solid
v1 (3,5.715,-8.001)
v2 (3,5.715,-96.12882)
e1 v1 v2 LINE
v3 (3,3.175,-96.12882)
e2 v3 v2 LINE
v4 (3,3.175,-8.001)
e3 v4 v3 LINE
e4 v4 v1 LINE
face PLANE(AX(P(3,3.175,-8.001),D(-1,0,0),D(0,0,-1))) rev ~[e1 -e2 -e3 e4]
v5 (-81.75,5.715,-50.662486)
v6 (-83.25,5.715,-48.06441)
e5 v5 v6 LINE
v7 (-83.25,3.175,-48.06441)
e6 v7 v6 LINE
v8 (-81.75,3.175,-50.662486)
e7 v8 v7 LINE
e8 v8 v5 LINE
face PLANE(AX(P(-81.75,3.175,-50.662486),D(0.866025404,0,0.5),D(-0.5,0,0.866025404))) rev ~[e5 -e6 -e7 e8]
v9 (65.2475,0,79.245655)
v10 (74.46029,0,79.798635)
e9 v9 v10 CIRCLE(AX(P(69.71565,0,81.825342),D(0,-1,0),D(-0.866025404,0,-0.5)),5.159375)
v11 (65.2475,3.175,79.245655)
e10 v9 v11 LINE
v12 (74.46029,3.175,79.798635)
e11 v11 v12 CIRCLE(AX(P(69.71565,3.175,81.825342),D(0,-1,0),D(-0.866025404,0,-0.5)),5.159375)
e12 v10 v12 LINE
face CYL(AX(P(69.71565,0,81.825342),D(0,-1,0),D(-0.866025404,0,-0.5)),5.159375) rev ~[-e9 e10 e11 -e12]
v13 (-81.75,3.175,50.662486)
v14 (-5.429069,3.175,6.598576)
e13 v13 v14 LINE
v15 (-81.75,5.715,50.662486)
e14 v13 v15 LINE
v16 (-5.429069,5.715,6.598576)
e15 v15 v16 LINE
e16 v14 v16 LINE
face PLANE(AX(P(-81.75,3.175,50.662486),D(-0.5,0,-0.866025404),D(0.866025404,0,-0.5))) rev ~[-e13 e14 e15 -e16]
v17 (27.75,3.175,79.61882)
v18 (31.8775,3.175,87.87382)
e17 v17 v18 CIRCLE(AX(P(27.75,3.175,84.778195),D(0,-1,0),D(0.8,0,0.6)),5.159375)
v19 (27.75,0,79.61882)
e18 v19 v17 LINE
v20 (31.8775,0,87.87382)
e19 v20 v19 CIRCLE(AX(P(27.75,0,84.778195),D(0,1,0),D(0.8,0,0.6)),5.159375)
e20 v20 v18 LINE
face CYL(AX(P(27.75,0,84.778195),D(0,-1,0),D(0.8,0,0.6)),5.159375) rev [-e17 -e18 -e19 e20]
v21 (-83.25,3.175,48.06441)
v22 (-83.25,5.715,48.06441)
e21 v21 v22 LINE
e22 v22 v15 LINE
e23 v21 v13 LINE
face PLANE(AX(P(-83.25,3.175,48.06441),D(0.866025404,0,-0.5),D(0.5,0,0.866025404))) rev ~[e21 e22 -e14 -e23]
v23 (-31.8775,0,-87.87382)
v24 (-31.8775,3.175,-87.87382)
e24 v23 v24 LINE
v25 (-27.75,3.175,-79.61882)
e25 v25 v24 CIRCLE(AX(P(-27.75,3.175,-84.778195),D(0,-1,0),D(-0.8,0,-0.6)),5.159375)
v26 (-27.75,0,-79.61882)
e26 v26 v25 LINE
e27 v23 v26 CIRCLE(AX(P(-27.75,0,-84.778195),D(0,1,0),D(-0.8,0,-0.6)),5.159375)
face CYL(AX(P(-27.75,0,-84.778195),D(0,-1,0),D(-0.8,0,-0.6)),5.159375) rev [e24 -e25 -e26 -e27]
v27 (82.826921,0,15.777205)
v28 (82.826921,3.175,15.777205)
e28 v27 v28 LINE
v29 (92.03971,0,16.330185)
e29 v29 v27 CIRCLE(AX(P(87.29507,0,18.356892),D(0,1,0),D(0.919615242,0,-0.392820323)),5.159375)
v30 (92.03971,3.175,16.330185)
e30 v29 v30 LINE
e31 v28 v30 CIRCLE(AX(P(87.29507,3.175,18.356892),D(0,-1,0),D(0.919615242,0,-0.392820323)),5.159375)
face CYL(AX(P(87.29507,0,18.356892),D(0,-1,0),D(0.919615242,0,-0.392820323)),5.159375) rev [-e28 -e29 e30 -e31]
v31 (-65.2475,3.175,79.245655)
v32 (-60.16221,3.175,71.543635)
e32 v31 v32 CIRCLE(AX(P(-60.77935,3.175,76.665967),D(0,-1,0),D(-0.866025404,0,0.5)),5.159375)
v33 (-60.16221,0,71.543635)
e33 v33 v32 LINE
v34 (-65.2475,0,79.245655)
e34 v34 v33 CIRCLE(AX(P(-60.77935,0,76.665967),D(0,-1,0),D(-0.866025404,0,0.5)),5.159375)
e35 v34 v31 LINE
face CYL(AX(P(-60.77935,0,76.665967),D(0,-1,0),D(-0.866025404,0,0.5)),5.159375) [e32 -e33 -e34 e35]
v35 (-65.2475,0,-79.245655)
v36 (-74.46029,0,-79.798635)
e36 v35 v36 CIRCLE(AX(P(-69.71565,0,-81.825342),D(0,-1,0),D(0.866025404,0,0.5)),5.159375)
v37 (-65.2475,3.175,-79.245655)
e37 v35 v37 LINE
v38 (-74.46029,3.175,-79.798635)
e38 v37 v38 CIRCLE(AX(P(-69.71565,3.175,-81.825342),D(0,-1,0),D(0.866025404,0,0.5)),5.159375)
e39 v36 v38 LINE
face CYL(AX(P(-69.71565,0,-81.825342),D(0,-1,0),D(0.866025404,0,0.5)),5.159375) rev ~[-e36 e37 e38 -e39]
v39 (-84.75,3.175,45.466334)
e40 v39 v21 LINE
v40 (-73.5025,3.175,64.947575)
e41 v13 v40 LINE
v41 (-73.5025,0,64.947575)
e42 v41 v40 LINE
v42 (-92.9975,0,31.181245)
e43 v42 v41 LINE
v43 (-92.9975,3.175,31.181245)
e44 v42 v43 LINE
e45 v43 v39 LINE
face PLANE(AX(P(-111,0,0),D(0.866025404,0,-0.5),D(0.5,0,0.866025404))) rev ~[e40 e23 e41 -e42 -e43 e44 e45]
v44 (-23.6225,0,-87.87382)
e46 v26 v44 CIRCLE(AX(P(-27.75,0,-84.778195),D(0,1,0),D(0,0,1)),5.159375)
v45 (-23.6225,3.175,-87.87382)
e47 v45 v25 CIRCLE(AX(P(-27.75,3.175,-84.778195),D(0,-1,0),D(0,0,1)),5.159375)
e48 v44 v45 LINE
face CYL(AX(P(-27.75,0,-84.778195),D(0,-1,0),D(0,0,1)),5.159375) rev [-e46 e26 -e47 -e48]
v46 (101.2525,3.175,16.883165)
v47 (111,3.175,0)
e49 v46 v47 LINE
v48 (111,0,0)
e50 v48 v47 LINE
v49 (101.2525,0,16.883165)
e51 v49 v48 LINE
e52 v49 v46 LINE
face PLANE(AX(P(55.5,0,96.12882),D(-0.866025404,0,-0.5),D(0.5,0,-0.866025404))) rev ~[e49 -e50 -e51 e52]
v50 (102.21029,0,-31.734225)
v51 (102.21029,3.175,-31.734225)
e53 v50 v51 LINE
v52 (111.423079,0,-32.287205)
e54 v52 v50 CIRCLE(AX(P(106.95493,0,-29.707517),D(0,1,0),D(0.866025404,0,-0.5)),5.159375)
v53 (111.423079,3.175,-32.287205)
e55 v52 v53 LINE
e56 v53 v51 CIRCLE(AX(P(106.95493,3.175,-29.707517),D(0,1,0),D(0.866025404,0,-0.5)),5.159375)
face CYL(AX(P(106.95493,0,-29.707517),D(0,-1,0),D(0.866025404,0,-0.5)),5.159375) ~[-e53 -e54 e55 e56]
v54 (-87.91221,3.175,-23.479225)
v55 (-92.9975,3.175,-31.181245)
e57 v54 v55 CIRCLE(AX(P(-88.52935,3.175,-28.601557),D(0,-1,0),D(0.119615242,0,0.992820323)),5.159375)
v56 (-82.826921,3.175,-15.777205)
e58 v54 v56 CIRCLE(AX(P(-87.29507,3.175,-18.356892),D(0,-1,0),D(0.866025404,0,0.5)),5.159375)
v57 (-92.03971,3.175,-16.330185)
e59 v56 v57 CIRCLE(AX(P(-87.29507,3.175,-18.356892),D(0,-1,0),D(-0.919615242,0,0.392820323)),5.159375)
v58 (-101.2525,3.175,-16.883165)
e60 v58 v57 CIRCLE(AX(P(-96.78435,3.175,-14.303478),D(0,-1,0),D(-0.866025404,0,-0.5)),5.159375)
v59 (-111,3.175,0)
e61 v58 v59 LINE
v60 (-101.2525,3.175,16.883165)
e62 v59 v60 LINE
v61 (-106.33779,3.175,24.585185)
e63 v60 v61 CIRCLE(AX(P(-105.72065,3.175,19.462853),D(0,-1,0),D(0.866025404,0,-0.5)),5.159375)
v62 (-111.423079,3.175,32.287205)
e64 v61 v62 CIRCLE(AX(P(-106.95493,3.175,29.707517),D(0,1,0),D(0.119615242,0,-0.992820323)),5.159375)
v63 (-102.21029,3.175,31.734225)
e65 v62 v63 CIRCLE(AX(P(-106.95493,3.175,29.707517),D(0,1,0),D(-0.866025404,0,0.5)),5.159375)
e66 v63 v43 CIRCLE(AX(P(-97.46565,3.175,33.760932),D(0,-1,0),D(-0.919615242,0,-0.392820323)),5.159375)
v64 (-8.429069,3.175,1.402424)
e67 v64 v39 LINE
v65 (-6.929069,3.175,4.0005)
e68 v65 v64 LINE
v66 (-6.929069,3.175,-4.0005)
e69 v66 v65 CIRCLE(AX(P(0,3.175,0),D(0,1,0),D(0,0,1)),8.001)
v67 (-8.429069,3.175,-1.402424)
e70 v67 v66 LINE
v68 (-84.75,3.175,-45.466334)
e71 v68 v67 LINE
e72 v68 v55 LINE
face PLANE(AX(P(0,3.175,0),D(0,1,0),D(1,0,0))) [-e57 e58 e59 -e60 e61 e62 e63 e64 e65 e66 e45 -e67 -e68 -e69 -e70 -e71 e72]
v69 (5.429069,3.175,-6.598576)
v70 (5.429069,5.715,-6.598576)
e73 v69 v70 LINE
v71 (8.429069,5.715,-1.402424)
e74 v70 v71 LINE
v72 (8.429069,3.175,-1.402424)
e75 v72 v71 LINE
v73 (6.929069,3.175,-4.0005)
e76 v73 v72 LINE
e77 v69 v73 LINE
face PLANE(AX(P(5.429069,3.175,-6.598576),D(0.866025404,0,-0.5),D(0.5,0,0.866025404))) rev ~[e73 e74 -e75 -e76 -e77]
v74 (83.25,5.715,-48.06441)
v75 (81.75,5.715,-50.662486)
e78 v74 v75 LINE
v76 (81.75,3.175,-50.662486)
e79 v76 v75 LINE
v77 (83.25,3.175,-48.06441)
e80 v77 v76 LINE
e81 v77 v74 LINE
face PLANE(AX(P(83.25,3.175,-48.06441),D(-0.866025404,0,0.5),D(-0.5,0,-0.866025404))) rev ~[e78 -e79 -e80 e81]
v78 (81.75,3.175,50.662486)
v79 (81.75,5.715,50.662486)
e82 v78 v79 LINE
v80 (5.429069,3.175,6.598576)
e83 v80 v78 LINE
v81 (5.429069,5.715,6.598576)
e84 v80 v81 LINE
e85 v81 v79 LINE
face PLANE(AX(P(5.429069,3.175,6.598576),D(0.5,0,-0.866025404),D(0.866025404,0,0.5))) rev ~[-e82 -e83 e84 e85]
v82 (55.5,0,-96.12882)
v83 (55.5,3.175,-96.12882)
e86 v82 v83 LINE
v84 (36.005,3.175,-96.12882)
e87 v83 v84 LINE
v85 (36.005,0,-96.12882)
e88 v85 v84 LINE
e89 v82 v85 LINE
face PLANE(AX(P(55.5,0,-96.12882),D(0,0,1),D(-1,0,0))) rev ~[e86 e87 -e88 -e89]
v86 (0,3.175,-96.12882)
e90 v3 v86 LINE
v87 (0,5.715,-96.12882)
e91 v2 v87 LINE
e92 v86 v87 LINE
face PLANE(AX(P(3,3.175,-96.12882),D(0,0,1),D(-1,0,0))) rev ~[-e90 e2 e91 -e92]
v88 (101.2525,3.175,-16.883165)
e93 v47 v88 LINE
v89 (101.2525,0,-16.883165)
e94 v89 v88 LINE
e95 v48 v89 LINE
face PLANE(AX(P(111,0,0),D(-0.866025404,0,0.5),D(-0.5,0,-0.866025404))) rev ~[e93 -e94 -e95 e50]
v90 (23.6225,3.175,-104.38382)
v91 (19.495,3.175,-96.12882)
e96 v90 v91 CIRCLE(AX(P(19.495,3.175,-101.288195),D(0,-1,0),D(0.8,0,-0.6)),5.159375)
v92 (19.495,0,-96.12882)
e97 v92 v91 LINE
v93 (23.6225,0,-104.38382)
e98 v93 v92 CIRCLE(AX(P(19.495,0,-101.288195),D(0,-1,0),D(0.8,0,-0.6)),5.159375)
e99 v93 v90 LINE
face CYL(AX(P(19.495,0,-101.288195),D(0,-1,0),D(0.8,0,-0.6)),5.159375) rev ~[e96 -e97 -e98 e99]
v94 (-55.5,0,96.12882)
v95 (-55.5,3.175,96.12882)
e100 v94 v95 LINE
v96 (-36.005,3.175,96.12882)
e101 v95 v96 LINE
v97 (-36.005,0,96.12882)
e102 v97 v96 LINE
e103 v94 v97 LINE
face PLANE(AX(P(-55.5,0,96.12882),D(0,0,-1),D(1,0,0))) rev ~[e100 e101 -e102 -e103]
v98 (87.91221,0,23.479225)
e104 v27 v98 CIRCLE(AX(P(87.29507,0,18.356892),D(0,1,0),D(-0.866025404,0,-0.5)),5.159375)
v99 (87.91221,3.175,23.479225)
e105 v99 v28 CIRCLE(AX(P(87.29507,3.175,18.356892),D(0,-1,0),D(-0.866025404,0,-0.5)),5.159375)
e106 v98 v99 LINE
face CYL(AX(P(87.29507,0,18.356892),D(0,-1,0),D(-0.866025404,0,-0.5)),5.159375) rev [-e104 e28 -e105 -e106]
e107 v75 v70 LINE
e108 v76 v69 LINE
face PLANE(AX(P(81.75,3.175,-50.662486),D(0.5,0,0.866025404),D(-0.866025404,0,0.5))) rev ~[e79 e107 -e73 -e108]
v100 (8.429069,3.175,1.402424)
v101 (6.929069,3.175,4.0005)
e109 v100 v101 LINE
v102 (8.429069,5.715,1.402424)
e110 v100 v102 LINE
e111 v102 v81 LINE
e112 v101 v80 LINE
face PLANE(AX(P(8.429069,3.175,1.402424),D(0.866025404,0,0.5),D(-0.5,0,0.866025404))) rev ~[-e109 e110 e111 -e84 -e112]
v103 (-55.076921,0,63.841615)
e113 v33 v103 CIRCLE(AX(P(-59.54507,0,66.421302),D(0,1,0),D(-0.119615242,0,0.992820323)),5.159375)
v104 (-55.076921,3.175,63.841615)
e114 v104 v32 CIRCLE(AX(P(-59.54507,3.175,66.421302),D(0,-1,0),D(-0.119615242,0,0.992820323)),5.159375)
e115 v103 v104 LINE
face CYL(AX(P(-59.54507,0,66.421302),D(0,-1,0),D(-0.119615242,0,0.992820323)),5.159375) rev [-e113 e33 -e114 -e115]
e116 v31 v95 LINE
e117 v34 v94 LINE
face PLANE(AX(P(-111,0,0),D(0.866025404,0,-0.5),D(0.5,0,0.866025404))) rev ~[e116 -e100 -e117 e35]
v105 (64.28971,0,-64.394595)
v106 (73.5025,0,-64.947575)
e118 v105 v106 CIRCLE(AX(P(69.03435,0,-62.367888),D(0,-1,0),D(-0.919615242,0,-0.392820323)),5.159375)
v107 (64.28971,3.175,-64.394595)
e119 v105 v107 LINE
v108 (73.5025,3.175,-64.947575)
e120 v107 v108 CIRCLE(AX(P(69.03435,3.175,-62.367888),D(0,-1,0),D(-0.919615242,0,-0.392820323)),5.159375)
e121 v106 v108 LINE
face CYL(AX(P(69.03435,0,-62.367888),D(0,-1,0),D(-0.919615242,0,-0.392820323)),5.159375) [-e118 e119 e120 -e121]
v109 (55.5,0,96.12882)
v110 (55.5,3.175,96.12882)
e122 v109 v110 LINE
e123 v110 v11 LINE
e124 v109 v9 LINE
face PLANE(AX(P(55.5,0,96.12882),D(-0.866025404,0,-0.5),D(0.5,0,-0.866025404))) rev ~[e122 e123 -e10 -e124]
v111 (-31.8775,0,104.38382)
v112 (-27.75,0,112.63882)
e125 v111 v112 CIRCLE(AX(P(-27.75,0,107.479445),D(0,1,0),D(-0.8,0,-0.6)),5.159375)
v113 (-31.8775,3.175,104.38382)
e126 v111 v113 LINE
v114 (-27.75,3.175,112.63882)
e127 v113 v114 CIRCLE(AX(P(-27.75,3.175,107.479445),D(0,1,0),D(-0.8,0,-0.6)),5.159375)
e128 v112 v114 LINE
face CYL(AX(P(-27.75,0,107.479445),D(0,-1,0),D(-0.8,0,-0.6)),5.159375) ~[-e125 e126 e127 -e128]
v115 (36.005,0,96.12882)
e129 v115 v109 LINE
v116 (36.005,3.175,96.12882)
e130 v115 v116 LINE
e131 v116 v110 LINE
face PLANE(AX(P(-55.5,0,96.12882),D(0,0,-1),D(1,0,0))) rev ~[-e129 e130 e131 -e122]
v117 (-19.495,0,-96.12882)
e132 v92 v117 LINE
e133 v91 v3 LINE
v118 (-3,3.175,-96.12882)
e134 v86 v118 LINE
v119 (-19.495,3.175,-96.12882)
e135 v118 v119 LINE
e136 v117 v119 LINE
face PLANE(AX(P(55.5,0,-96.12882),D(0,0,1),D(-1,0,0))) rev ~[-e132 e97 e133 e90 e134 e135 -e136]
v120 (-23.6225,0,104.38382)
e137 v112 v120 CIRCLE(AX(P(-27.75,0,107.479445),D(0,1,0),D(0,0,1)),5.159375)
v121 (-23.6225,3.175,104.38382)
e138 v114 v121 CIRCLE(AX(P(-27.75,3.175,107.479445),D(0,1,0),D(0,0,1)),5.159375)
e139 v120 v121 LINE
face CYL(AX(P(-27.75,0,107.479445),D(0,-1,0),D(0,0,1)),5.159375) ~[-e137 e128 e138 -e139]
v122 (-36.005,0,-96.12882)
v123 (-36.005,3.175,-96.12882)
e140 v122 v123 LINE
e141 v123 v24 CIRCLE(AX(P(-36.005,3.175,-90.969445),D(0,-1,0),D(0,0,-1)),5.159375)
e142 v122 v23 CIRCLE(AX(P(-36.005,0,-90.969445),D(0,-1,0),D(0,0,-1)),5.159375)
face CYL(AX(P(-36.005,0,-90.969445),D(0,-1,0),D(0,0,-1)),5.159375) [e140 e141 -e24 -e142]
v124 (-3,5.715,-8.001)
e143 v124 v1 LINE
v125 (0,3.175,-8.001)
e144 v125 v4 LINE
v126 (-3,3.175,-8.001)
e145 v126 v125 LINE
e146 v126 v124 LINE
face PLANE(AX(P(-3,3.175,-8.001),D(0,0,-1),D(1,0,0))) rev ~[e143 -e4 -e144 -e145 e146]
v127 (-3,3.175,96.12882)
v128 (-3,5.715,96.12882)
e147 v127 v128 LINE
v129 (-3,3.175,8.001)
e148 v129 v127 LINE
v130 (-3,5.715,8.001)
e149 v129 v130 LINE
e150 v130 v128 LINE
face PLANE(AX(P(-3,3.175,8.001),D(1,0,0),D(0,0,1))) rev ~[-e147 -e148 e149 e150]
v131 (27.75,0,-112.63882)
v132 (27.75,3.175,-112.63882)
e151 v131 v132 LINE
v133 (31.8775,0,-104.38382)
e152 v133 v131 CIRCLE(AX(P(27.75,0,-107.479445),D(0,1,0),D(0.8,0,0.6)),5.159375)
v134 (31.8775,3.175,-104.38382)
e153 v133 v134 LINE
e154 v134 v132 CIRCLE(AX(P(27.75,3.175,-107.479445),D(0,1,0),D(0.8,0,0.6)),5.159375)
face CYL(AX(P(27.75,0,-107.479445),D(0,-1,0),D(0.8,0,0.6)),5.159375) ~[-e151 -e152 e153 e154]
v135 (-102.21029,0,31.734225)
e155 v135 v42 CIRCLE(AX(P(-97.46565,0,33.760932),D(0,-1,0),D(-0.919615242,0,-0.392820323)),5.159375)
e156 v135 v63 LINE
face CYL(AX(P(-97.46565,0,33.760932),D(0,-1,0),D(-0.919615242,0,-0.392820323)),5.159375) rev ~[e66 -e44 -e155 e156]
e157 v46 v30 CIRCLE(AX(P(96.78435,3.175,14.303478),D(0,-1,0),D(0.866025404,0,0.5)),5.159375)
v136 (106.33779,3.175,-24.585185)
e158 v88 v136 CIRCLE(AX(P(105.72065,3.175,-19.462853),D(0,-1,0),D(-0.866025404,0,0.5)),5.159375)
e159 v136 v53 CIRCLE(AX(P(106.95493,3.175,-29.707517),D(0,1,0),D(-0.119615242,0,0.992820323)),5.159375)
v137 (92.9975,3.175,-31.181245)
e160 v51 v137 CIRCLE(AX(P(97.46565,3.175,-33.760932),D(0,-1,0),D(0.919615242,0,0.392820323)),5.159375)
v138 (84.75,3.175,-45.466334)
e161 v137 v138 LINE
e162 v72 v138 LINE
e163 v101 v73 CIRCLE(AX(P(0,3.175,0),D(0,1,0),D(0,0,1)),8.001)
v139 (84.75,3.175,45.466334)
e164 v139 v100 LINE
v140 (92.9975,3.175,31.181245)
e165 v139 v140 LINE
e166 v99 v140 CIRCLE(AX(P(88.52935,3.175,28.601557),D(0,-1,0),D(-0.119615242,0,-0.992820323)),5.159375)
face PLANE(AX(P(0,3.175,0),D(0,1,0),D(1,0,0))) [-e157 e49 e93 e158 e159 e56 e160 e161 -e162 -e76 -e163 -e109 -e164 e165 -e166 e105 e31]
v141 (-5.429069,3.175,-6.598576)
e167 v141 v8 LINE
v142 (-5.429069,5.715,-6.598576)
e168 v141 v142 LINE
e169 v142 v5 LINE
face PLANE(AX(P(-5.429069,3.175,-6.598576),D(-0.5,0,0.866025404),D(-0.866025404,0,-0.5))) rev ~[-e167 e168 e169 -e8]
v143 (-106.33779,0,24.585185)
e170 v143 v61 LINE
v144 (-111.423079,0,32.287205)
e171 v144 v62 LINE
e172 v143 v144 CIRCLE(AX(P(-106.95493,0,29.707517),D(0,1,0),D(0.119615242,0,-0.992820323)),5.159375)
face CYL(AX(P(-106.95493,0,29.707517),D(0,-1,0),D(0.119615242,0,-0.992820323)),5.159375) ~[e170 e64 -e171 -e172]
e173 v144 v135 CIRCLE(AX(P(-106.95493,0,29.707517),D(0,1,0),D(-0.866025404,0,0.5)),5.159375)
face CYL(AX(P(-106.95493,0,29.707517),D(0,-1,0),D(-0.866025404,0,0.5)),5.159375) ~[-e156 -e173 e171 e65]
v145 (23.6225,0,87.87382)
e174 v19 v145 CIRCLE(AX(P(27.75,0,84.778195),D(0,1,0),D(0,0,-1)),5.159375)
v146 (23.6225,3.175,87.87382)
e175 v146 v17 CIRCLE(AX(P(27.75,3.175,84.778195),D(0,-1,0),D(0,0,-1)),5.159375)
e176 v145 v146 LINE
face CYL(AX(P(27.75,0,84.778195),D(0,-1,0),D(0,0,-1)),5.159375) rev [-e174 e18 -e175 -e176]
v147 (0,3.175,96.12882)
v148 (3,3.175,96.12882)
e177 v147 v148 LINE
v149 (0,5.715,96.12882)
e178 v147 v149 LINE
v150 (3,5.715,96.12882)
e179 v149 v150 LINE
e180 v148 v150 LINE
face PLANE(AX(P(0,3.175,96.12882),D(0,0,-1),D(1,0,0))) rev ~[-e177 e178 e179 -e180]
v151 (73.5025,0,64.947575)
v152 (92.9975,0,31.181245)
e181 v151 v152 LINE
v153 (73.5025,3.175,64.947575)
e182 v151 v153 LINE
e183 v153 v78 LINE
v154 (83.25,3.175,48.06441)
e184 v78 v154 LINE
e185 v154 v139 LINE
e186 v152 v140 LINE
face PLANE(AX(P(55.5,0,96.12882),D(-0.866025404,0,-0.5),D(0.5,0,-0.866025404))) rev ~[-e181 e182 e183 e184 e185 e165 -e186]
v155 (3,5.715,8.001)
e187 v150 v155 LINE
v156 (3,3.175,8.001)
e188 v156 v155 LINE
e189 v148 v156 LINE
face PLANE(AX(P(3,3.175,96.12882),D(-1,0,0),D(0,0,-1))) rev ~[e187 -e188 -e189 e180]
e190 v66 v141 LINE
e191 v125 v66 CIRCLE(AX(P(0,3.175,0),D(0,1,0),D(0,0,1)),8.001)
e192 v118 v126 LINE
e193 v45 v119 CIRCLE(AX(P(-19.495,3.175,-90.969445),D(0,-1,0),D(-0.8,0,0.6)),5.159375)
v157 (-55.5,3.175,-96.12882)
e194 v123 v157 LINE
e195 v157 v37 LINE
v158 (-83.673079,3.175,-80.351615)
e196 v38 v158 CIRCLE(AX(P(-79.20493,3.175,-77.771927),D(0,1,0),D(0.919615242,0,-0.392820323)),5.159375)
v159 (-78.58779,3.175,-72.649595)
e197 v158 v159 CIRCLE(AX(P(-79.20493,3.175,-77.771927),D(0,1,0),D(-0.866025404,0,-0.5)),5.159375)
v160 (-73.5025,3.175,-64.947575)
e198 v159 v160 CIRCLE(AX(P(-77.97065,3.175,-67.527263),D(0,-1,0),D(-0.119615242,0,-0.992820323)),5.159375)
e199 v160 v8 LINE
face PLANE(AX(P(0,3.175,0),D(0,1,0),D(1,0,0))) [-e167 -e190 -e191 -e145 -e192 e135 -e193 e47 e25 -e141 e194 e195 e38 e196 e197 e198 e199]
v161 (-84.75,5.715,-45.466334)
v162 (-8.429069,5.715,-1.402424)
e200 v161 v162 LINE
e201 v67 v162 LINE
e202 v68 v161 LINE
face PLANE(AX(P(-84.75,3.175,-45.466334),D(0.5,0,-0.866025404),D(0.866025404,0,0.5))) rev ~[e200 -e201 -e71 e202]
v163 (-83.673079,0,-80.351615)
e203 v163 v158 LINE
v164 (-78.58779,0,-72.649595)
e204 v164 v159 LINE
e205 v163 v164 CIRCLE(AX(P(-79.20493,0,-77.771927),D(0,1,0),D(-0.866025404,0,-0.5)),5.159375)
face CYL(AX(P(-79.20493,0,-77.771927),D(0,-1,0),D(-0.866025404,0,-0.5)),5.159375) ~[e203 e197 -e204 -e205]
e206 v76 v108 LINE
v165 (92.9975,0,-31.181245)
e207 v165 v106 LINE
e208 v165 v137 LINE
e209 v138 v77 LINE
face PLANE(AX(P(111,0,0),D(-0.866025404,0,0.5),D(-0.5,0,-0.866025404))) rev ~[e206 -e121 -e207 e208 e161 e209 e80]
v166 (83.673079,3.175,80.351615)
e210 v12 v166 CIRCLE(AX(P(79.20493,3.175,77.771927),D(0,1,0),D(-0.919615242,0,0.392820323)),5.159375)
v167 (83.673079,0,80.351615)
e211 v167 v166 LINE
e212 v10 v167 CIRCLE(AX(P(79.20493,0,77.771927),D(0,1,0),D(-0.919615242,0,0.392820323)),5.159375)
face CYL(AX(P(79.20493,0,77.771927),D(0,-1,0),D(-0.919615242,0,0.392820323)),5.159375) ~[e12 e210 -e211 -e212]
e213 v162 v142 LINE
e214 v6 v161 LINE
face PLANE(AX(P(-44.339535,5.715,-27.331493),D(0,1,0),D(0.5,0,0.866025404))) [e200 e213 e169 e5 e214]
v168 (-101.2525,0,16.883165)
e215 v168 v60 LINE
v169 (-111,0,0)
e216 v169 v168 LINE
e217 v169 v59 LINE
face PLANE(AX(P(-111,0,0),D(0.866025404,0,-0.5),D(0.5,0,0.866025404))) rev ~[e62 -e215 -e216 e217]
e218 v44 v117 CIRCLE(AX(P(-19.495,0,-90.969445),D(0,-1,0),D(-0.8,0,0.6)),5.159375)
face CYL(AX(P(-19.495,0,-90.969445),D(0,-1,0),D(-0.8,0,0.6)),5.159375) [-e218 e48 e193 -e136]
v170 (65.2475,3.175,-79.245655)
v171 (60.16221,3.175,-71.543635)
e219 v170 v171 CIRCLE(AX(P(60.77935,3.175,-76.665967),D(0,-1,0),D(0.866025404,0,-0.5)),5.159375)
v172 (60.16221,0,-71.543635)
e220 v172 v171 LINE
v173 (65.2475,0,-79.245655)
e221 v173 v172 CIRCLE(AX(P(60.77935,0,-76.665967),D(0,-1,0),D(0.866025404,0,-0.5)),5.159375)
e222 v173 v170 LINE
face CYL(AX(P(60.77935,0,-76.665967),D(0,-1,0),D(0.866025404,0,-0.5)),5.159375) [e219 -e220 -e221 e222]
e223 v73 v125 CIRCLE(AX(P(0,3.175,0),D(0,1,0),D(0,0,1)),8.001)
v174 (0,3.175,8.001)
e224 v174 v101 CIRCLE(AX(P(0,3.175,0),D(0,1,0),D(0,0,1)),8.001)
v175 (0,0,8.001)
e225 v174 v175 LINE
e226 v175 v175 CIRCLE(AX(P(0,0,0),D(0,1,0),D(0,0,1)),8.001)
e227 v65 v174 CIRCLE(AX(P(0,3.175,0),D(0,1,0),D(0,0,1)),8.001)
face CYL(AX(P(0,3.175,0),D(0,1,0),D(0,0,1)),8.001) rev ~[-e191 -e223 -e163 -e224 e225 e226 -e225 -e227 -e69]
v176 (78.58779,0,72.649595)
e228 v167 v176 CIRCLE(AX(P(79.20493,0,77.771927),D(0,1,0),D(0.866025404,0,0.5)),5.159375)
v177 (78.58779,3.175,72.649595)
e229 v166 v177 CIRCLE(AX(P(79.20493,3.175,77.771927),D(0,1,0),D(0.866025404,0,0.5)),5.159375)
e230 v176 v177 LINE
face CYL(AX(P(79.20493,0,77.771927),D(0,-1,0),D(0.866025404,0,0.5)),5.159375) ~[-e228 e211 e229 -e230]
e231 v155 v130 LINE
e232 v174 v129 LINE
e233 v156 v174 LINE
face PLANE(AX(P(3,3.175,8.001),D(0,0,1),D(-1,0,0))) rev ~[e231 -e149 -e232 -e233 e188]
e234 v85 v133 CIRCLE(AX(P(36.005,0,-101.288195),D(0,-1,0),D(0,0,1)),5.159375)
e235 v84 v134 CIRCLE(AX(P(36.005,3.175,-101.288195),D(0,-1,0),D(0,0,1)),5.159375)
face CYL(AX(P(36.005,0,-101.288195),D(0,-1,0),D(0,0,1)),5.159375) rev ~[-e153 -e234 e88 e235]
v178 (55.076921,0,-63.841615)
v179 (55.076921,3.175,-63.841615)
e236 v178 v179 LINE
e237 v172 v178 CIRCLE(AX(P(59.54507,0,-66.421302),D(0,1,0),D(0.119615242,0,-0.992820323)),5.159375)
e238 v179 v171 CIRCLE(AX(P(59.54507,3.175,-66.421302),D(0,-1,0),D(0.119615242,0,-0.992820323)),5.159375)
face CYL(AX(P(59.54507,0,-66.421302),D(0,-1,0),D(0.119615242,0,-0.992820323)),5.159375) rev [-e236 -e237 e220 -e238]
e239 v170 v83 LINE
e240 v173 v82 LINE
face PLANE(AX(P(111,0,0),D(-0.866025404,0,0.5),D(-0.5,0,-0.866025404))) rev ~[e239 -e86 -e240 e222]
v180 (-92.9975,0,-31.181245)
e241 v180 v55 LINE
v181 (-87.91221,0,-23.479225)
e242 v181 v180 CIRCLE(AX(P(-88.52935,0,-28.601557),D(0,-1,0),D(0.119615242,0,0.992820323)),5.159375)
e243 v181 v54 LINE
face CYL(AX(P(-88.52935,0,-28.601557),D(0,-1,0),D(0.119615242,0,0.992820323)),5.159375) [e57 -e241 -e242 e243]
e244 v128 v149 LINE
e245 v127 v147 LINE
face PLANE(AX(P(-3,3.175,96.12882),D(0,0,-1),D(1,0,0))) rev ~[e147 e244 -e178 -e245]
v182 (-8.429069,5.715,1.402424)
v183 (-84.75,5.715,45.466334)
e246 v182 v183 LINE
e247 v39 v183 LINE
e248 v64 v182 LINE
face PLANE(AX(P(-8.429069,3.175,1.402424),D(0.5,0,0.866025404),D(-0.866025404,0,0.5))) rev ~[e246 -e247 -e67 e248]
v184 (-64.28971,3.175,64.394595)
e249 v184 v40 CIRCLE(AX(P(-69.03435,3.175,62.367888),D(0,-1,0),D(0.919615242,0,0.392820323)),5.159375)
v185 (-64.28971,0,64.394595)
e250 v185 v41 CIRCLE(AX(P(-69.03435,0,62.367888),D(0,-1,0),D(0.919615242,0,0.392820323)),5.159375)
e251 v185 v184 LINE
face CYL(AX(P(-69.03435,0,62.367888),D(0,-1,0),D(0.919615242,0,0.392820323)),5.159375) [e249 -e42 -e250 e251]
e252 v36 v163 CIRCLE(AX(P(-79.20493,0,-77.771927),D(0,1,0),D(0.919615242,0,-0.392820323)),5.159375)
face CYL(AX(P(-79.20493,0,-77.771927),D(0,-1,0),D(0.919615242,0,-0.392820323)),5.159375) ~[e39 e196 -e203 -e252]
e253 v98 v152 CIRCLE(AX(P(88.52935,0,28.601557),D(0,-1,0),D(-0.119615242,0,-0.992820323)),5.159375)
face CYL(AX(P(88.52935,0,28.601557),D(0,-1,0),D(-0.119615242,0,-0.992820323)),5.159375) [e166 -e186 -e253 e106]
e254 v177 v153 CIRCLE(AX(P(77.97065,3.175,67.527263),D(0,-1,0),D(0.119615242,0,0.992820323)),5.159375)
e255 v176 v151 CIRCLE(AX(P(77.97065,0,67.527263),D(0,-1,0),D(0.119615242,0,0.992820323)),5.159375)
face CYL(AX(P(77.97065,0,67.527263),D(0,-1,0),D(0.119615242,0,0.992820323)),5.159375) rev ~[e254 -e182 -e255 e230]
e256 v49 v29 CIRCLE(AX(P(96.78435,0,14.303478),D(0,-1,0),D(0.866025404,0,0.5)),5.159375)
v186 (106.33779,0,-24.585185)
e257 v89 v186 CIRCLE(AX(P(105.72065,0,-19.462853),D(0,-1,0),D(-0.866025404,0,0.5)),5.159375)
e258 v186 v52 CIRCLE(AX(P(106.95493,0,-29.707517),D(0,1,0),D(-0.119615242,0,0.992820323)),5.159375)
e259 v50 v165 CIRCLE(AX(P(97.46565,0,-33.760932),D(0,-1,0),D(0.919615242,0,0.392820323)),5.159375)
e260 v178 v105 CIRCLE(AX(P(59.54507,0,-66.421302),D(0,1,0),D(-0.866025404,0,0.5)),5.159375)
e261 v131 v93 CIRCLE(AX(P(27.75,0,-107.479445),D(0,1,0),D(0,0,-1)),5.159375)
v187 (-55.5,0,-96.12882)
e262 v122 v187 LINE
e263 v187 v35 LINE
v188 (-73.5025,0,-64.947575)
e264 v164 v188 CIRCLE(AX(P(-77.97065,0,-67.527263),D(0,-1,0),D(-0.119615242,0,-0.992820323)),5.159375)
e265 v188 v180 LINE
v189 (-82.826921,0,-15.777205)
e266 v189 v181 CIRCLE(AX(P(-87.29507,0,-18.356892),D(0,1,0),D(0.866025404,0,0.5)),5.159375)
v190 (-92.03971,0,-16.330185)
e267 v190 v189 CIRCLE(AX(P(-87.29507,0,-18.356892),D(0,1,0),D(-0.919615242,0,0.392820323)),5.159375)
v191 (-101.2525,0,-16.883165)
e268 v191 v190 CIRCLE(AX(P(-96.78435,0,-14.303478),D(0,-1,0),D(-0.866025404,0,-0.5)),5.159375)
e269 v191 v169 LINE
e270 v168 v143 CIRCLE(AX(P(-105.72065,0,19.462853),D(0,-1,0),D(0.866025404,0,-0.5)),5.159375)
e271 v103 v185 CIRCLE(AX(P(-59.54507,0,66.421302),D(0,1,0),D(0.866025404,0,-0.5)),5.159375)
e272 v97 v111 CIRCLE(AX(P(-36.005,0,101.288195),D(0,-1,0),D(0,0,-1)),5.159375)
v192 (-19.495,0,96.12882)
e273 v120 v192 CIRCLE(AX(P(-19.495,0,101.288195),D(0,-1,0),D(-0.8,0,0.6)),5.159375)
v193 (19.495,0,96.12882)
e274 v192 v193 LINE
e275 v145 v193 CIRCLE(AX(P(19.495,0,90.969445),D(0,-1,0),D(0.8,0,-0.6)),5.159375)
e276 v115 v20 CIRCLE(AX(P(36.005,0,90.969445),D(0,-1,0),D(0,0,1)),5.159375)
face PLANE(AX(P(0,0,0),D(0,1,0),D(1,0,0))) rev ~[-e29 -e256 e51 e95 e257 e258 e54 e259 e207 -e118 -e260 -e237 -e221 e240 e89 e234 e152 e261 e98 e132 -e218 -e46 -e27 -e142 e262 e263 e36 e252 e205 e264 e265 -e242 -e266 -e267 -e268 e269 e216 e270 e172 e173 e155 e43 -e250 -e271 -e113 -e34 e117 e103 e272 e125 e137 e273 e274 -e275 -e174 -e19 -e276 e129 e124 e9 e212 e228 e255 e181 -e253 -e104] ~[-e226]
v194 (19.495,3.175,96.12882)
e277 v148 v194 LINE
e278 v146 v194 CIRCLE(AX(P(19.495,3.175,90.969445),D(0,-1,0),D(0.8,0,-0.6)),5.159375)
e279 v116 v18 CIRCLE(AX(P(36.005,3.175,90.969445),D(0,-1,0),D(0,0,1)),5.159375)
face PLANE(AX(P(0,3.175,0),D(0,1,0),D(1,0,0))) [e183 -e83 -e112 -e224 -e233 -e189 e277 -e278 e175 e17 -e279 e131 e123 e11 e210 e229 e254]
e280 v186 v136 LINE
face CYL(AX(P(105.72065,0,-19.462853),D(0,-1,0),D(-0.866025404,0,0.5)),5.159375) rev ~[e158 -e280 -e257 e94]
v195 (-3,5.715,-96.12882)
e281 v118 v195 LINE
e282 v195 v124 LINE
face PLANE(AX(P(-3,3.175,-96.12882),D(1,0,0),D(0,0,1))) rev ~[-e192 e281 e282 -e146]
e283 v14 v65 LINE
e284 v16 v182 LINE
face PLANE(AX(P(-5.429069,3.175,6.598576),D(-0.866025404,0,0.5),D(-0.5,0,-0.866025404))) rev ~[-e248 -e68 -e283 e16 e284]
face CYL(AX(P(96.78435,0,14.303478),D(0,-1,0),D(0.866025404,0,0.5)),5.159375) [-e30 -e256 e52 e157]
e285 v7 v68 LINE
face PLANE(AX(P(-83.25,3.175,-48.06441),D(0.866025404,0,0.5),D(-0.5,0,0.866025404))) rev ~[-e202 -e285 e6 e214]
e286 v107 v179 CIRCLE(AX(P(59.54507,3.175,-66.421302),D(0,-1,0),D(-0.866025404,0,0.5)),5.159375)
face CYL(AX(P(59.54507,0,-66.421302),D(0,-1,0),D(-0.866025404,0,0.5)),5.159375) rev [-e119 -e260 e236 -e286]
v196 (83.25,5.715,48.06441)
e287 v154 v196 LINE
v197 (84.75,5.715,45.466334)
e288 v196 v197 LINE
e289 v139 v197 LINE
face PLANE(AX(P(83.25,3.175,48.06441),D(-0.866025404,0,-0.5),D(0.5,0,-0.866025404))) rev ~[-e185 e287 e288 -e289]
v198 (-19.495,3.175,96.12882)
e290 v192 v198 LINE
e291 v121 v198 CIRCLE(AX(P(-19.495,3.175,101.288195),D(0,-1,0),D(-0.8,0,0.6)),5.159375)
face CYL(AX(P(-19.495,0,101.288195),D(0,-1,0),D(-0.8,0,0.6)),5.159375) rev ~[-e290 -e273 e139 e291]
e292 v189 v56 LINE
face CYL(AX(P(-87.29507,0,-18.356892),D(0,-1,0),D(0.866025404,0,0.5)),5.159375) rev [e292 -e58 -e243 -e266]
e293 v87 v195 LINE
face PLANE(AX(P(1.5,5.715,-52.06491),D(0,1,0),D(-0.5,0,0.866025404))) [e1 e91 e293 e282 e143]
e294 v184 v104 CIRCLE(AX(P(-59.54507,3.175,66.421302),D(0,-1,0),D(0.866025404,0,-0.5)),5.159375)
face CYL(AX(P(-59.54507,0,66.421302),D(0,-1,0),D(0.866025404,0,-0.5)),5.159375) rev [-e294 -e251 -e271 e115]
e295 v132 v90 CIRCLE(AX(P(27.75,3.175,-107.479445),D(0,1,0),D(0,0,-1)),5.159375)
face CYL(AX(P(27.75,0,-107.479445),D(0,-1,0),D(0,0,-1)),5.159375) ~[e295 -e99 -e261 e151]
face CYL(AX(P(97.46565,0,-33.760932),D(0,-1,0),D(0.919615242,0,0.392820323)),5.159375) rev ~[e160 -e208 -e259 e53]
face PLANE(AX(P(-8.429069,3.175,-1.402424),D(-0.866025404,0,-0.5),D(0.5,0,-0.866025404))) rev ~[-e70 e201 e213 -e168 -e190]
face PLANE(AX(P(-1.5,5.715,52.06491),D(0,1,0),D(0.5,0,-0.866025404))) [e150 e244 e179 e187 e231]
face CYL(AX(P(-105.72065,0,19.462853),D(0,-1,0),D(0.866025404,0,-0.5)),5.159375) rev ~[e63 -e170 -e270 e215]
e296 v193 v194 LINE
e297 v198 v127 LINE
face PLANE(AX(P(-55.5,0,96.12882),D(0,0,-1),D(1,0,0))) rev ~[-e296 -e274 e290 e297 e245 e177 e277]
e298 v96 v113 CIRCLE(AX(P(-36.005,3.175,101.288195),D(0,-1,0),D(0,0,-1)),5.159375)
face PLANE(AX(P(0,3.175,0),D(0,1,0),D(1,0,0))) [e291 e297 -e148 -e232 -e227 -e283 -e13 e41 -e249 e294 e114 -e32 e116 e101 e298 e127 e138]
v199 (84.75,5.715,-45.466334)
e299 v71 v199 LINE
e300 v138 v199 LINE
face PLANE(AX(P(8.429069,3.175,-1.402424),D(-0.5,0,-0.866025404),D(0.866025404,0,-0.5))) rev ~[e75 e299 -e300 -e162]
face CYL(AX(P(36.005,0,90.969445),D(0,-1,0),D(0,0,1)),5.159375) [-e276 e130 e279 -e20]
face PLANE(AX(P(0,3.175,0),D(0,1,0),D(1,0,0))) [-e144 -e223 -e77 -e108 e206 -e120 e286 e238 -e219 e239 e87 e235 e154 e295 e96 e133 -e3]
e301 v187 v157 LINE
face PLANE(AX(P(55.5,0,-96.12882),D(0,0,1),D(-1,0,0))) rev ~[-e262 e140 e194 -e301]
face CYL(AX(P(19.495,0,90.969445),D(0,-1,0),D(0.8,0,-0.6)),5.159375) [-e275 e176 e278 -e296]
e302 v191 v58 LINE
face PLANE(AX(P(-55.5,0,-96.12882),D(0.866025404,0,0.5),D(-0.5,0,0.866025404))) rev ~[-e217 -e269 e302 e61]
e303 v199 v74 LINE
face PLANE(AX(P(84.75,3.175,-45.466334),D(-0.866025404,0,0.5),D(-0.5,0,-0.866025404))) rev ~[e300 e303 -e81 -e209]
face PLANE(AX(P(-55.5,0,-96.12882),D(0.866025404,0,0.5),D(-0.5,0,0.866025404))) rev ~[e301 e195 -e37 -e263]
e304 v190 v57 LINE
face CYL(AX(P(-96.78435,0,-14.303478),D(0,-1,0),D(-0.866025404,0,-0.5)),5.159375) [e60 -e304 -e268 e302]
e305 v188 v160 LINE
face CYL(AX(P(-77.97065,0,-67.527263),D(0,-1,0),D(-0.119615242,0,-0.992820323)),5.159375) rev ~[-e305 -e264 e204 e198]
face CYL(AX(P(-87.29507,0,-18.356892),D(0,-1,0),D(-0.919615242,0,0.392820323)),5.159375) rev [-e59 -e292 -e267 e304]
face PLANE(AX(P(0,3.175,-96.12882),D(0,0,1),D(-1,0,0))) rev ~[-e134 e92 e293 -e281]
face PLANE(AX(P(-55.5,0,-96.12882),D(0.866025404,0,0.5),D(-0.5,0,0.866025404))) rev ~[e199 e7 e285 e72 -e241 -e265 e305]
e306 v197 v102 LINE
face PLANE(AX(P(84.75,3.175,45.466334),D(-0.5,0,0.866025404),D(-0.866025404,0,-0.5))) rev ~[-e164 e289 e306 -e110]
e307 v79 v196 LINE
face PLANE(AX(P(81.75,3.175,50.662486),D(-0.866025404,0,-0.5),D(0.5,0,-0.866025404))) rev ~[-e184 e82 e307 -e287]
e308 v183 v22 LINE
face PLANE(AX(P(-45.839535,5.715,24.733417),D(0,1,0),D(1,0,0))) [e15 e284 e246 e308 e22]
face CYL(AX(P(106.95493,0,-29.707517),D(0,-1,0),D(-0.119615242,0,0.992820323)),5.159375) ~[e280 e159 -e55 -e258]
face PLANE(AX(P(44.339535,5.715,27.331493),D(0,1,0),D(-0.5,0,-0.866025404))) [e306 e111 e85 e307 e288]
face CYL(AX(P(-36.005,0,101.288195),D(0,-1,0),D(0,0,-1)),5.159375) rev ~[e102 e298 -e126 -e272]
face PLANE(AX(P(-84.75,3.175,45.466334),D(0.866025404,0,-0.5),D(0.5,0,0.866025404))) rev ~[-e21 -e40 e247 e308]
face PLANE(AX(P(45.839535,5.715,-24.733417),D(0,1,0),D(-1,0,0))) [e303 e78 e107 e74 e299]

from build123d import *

# Parameters (mm, degrees)
BOSS_EXTRUDE1_DEPTH = 3.175
BOSS_EXTRUDE2_DEPTH = 3.175
CUT_EXTRUDE2_DEPTH  = 159.172640977
CIRPATTERN1_COUNT   = 6
SKETCH4_R           = 8.001
CUT_EXTRUDE3_DEPTH  = 3.175
BOSS_EXTRUDE3_DEPTH = 2.54
CIRPATTERN2_COUNT   = 6


with BuildPart() as part:
    # Sketch1 → Boss-Extrude1 (new body)
    with BuildSketch(Plane(origin=(0, 0, 0), x_dir=(1, 0, 0), z_dir=(0, 1, 0))):
        Polygon((55.499999998, -96.128819817), (110.999999996, 0), (55.499999998, 96.128819817), (-55.499999998, 96.128819817), (-110.999999996, 0), (-55.499999998, -96.128819817), align=None)
    extrude(amount=BOSS_EXTRUDE1_DEPTH)

    # Sketch2 → Boss-Extrude2 (add)
    with BuildSketch(Plane(origin=(0, 0, 0), x_dir=(1, 0, 0), z_dir=(0, 1, 0))):
        with BuildLine():
            ThreePointArc((23.622499999, 104.383819817), (24.109685288, 98.980852172), (19.494999999, 96.128819817))
            Line((19.494999999, 96.128819817), (36.004999999, 96.128819817))
            ThreePointArc((36.004999999, 96.128819817), (31.39031471, 98.980852172), (31.877499999, 104.383819817))
            ThreePointArc((31.877499999, 104.383819817), (32.364685288, 109.786787461), (27.749999999, 112.638819817))
            ThreePointArc((27.749999999, 112.638819817), (23.13531471, 109.786787461), (23.622499999, 104.383819817))
        make_face()
    boss_extrude2 = extrude(amount=BOSS_EXTRUDE2_DEPTH)

    # Sketch2<3> → Cut-Extrude2 (cut, through all)
    with BuildSketch(Plane(origin=(0, 0, 0), x_dir=(1, 0, 0), z_dir=(0, 1, 0))):
        with BuildLine():
            Line((-19.494999999, 96.128819817), (-36.004999999, 96.128819817))
            ThreePointArc((-36.004999999, 96.128819817), (-31.39031471, 93.276787461), (-31.877499999, 87.873819817))
            ThreePointArc((-31.877499999, 87.873819817), (-32.364685288, 82.470852172), (-27.749999999, 79.618819817))
            ThreePointArc((-27.749999999, 79.618819817), (-23.13531471, 82.470852172), (-23.622499999, 87.873819817))
            ThreePointArc((-23.622499999, 87.873819817), (-24.109685288, 93.276787461), (-19.494999999, 96.128819817))
        make_face()
    cut_extrude2 = extrude(amount=CUT_EXTRUDE2_DEPTH, mode=Mode.SUBTRACT)

    # CirPattern1: Boss-Extrude2, Cut-Extrude2 ×6 about axis
    cirpattern1_axis = Axis((0, 0, 0), (0, 1, 0))
    add([boss_extrude2.rotate(cirpattern1_axis, i * 360 / CIRPATTERN1_COUNT) for i in range(1, CIRPATTERN1_COUNT)])
    add([cut_extrude2.rotate(cirpattern1_axis, i * 360 / CIRPATTERN1_COUNT) for i in range(1, CIRPATTERN1_COUNT)], mode=Mode.SUBTRACT)

    # Sketch4 → Cut-Extrude3 (cut)
    with BuildSketch(Plane(origin=(0, 3.175, 0), x_dir=(1, 0, 0), z_dir=(0, 1, 0))):
        with Locations(Location((0, 0, 0), (0, 0, 270))):
            Circle(SKETCH4_R)
    extrude(amount=-CUT_EXTRUDE3_DEPTH, mode=Mode.SUBTRACT)

    # Sketch5 → Boss-Extrude3 (add)
    with BuildSketch(Plane(origin=(0, 3.175, 0), x_dir=(1, 0, 0), z_dir=(0, 1, 0))):
        Polygon((-8.429069256, -1.402423789), (-84.749999997, -45.466333697), (-83.249999997, -48.064409908), (-6.929069256, -4.0005), align=None)
        Polygon((-6.929069256, -4.0005), (-83.249999997, -48.064409908), (-81.749999997, -50.66248612), (-5.429069256, -6.598576211), align=None)
    boss_extrude3 = extrude(amount=BOSS_EXTRUDE3_DEPTH)

    # CirPattern2: Boss-Extrude3 ×6 about axis
    cirpattern2_axis = Axis((0, 0, 0), (0, 1, 0))
    for i in range(1, CIRPATTERN2_COUNT):
        add(boss_extrude3.rotate(cirpattern2_axis, i * 360 / CIRPATTERN2_COUNT))


solid = part.part
